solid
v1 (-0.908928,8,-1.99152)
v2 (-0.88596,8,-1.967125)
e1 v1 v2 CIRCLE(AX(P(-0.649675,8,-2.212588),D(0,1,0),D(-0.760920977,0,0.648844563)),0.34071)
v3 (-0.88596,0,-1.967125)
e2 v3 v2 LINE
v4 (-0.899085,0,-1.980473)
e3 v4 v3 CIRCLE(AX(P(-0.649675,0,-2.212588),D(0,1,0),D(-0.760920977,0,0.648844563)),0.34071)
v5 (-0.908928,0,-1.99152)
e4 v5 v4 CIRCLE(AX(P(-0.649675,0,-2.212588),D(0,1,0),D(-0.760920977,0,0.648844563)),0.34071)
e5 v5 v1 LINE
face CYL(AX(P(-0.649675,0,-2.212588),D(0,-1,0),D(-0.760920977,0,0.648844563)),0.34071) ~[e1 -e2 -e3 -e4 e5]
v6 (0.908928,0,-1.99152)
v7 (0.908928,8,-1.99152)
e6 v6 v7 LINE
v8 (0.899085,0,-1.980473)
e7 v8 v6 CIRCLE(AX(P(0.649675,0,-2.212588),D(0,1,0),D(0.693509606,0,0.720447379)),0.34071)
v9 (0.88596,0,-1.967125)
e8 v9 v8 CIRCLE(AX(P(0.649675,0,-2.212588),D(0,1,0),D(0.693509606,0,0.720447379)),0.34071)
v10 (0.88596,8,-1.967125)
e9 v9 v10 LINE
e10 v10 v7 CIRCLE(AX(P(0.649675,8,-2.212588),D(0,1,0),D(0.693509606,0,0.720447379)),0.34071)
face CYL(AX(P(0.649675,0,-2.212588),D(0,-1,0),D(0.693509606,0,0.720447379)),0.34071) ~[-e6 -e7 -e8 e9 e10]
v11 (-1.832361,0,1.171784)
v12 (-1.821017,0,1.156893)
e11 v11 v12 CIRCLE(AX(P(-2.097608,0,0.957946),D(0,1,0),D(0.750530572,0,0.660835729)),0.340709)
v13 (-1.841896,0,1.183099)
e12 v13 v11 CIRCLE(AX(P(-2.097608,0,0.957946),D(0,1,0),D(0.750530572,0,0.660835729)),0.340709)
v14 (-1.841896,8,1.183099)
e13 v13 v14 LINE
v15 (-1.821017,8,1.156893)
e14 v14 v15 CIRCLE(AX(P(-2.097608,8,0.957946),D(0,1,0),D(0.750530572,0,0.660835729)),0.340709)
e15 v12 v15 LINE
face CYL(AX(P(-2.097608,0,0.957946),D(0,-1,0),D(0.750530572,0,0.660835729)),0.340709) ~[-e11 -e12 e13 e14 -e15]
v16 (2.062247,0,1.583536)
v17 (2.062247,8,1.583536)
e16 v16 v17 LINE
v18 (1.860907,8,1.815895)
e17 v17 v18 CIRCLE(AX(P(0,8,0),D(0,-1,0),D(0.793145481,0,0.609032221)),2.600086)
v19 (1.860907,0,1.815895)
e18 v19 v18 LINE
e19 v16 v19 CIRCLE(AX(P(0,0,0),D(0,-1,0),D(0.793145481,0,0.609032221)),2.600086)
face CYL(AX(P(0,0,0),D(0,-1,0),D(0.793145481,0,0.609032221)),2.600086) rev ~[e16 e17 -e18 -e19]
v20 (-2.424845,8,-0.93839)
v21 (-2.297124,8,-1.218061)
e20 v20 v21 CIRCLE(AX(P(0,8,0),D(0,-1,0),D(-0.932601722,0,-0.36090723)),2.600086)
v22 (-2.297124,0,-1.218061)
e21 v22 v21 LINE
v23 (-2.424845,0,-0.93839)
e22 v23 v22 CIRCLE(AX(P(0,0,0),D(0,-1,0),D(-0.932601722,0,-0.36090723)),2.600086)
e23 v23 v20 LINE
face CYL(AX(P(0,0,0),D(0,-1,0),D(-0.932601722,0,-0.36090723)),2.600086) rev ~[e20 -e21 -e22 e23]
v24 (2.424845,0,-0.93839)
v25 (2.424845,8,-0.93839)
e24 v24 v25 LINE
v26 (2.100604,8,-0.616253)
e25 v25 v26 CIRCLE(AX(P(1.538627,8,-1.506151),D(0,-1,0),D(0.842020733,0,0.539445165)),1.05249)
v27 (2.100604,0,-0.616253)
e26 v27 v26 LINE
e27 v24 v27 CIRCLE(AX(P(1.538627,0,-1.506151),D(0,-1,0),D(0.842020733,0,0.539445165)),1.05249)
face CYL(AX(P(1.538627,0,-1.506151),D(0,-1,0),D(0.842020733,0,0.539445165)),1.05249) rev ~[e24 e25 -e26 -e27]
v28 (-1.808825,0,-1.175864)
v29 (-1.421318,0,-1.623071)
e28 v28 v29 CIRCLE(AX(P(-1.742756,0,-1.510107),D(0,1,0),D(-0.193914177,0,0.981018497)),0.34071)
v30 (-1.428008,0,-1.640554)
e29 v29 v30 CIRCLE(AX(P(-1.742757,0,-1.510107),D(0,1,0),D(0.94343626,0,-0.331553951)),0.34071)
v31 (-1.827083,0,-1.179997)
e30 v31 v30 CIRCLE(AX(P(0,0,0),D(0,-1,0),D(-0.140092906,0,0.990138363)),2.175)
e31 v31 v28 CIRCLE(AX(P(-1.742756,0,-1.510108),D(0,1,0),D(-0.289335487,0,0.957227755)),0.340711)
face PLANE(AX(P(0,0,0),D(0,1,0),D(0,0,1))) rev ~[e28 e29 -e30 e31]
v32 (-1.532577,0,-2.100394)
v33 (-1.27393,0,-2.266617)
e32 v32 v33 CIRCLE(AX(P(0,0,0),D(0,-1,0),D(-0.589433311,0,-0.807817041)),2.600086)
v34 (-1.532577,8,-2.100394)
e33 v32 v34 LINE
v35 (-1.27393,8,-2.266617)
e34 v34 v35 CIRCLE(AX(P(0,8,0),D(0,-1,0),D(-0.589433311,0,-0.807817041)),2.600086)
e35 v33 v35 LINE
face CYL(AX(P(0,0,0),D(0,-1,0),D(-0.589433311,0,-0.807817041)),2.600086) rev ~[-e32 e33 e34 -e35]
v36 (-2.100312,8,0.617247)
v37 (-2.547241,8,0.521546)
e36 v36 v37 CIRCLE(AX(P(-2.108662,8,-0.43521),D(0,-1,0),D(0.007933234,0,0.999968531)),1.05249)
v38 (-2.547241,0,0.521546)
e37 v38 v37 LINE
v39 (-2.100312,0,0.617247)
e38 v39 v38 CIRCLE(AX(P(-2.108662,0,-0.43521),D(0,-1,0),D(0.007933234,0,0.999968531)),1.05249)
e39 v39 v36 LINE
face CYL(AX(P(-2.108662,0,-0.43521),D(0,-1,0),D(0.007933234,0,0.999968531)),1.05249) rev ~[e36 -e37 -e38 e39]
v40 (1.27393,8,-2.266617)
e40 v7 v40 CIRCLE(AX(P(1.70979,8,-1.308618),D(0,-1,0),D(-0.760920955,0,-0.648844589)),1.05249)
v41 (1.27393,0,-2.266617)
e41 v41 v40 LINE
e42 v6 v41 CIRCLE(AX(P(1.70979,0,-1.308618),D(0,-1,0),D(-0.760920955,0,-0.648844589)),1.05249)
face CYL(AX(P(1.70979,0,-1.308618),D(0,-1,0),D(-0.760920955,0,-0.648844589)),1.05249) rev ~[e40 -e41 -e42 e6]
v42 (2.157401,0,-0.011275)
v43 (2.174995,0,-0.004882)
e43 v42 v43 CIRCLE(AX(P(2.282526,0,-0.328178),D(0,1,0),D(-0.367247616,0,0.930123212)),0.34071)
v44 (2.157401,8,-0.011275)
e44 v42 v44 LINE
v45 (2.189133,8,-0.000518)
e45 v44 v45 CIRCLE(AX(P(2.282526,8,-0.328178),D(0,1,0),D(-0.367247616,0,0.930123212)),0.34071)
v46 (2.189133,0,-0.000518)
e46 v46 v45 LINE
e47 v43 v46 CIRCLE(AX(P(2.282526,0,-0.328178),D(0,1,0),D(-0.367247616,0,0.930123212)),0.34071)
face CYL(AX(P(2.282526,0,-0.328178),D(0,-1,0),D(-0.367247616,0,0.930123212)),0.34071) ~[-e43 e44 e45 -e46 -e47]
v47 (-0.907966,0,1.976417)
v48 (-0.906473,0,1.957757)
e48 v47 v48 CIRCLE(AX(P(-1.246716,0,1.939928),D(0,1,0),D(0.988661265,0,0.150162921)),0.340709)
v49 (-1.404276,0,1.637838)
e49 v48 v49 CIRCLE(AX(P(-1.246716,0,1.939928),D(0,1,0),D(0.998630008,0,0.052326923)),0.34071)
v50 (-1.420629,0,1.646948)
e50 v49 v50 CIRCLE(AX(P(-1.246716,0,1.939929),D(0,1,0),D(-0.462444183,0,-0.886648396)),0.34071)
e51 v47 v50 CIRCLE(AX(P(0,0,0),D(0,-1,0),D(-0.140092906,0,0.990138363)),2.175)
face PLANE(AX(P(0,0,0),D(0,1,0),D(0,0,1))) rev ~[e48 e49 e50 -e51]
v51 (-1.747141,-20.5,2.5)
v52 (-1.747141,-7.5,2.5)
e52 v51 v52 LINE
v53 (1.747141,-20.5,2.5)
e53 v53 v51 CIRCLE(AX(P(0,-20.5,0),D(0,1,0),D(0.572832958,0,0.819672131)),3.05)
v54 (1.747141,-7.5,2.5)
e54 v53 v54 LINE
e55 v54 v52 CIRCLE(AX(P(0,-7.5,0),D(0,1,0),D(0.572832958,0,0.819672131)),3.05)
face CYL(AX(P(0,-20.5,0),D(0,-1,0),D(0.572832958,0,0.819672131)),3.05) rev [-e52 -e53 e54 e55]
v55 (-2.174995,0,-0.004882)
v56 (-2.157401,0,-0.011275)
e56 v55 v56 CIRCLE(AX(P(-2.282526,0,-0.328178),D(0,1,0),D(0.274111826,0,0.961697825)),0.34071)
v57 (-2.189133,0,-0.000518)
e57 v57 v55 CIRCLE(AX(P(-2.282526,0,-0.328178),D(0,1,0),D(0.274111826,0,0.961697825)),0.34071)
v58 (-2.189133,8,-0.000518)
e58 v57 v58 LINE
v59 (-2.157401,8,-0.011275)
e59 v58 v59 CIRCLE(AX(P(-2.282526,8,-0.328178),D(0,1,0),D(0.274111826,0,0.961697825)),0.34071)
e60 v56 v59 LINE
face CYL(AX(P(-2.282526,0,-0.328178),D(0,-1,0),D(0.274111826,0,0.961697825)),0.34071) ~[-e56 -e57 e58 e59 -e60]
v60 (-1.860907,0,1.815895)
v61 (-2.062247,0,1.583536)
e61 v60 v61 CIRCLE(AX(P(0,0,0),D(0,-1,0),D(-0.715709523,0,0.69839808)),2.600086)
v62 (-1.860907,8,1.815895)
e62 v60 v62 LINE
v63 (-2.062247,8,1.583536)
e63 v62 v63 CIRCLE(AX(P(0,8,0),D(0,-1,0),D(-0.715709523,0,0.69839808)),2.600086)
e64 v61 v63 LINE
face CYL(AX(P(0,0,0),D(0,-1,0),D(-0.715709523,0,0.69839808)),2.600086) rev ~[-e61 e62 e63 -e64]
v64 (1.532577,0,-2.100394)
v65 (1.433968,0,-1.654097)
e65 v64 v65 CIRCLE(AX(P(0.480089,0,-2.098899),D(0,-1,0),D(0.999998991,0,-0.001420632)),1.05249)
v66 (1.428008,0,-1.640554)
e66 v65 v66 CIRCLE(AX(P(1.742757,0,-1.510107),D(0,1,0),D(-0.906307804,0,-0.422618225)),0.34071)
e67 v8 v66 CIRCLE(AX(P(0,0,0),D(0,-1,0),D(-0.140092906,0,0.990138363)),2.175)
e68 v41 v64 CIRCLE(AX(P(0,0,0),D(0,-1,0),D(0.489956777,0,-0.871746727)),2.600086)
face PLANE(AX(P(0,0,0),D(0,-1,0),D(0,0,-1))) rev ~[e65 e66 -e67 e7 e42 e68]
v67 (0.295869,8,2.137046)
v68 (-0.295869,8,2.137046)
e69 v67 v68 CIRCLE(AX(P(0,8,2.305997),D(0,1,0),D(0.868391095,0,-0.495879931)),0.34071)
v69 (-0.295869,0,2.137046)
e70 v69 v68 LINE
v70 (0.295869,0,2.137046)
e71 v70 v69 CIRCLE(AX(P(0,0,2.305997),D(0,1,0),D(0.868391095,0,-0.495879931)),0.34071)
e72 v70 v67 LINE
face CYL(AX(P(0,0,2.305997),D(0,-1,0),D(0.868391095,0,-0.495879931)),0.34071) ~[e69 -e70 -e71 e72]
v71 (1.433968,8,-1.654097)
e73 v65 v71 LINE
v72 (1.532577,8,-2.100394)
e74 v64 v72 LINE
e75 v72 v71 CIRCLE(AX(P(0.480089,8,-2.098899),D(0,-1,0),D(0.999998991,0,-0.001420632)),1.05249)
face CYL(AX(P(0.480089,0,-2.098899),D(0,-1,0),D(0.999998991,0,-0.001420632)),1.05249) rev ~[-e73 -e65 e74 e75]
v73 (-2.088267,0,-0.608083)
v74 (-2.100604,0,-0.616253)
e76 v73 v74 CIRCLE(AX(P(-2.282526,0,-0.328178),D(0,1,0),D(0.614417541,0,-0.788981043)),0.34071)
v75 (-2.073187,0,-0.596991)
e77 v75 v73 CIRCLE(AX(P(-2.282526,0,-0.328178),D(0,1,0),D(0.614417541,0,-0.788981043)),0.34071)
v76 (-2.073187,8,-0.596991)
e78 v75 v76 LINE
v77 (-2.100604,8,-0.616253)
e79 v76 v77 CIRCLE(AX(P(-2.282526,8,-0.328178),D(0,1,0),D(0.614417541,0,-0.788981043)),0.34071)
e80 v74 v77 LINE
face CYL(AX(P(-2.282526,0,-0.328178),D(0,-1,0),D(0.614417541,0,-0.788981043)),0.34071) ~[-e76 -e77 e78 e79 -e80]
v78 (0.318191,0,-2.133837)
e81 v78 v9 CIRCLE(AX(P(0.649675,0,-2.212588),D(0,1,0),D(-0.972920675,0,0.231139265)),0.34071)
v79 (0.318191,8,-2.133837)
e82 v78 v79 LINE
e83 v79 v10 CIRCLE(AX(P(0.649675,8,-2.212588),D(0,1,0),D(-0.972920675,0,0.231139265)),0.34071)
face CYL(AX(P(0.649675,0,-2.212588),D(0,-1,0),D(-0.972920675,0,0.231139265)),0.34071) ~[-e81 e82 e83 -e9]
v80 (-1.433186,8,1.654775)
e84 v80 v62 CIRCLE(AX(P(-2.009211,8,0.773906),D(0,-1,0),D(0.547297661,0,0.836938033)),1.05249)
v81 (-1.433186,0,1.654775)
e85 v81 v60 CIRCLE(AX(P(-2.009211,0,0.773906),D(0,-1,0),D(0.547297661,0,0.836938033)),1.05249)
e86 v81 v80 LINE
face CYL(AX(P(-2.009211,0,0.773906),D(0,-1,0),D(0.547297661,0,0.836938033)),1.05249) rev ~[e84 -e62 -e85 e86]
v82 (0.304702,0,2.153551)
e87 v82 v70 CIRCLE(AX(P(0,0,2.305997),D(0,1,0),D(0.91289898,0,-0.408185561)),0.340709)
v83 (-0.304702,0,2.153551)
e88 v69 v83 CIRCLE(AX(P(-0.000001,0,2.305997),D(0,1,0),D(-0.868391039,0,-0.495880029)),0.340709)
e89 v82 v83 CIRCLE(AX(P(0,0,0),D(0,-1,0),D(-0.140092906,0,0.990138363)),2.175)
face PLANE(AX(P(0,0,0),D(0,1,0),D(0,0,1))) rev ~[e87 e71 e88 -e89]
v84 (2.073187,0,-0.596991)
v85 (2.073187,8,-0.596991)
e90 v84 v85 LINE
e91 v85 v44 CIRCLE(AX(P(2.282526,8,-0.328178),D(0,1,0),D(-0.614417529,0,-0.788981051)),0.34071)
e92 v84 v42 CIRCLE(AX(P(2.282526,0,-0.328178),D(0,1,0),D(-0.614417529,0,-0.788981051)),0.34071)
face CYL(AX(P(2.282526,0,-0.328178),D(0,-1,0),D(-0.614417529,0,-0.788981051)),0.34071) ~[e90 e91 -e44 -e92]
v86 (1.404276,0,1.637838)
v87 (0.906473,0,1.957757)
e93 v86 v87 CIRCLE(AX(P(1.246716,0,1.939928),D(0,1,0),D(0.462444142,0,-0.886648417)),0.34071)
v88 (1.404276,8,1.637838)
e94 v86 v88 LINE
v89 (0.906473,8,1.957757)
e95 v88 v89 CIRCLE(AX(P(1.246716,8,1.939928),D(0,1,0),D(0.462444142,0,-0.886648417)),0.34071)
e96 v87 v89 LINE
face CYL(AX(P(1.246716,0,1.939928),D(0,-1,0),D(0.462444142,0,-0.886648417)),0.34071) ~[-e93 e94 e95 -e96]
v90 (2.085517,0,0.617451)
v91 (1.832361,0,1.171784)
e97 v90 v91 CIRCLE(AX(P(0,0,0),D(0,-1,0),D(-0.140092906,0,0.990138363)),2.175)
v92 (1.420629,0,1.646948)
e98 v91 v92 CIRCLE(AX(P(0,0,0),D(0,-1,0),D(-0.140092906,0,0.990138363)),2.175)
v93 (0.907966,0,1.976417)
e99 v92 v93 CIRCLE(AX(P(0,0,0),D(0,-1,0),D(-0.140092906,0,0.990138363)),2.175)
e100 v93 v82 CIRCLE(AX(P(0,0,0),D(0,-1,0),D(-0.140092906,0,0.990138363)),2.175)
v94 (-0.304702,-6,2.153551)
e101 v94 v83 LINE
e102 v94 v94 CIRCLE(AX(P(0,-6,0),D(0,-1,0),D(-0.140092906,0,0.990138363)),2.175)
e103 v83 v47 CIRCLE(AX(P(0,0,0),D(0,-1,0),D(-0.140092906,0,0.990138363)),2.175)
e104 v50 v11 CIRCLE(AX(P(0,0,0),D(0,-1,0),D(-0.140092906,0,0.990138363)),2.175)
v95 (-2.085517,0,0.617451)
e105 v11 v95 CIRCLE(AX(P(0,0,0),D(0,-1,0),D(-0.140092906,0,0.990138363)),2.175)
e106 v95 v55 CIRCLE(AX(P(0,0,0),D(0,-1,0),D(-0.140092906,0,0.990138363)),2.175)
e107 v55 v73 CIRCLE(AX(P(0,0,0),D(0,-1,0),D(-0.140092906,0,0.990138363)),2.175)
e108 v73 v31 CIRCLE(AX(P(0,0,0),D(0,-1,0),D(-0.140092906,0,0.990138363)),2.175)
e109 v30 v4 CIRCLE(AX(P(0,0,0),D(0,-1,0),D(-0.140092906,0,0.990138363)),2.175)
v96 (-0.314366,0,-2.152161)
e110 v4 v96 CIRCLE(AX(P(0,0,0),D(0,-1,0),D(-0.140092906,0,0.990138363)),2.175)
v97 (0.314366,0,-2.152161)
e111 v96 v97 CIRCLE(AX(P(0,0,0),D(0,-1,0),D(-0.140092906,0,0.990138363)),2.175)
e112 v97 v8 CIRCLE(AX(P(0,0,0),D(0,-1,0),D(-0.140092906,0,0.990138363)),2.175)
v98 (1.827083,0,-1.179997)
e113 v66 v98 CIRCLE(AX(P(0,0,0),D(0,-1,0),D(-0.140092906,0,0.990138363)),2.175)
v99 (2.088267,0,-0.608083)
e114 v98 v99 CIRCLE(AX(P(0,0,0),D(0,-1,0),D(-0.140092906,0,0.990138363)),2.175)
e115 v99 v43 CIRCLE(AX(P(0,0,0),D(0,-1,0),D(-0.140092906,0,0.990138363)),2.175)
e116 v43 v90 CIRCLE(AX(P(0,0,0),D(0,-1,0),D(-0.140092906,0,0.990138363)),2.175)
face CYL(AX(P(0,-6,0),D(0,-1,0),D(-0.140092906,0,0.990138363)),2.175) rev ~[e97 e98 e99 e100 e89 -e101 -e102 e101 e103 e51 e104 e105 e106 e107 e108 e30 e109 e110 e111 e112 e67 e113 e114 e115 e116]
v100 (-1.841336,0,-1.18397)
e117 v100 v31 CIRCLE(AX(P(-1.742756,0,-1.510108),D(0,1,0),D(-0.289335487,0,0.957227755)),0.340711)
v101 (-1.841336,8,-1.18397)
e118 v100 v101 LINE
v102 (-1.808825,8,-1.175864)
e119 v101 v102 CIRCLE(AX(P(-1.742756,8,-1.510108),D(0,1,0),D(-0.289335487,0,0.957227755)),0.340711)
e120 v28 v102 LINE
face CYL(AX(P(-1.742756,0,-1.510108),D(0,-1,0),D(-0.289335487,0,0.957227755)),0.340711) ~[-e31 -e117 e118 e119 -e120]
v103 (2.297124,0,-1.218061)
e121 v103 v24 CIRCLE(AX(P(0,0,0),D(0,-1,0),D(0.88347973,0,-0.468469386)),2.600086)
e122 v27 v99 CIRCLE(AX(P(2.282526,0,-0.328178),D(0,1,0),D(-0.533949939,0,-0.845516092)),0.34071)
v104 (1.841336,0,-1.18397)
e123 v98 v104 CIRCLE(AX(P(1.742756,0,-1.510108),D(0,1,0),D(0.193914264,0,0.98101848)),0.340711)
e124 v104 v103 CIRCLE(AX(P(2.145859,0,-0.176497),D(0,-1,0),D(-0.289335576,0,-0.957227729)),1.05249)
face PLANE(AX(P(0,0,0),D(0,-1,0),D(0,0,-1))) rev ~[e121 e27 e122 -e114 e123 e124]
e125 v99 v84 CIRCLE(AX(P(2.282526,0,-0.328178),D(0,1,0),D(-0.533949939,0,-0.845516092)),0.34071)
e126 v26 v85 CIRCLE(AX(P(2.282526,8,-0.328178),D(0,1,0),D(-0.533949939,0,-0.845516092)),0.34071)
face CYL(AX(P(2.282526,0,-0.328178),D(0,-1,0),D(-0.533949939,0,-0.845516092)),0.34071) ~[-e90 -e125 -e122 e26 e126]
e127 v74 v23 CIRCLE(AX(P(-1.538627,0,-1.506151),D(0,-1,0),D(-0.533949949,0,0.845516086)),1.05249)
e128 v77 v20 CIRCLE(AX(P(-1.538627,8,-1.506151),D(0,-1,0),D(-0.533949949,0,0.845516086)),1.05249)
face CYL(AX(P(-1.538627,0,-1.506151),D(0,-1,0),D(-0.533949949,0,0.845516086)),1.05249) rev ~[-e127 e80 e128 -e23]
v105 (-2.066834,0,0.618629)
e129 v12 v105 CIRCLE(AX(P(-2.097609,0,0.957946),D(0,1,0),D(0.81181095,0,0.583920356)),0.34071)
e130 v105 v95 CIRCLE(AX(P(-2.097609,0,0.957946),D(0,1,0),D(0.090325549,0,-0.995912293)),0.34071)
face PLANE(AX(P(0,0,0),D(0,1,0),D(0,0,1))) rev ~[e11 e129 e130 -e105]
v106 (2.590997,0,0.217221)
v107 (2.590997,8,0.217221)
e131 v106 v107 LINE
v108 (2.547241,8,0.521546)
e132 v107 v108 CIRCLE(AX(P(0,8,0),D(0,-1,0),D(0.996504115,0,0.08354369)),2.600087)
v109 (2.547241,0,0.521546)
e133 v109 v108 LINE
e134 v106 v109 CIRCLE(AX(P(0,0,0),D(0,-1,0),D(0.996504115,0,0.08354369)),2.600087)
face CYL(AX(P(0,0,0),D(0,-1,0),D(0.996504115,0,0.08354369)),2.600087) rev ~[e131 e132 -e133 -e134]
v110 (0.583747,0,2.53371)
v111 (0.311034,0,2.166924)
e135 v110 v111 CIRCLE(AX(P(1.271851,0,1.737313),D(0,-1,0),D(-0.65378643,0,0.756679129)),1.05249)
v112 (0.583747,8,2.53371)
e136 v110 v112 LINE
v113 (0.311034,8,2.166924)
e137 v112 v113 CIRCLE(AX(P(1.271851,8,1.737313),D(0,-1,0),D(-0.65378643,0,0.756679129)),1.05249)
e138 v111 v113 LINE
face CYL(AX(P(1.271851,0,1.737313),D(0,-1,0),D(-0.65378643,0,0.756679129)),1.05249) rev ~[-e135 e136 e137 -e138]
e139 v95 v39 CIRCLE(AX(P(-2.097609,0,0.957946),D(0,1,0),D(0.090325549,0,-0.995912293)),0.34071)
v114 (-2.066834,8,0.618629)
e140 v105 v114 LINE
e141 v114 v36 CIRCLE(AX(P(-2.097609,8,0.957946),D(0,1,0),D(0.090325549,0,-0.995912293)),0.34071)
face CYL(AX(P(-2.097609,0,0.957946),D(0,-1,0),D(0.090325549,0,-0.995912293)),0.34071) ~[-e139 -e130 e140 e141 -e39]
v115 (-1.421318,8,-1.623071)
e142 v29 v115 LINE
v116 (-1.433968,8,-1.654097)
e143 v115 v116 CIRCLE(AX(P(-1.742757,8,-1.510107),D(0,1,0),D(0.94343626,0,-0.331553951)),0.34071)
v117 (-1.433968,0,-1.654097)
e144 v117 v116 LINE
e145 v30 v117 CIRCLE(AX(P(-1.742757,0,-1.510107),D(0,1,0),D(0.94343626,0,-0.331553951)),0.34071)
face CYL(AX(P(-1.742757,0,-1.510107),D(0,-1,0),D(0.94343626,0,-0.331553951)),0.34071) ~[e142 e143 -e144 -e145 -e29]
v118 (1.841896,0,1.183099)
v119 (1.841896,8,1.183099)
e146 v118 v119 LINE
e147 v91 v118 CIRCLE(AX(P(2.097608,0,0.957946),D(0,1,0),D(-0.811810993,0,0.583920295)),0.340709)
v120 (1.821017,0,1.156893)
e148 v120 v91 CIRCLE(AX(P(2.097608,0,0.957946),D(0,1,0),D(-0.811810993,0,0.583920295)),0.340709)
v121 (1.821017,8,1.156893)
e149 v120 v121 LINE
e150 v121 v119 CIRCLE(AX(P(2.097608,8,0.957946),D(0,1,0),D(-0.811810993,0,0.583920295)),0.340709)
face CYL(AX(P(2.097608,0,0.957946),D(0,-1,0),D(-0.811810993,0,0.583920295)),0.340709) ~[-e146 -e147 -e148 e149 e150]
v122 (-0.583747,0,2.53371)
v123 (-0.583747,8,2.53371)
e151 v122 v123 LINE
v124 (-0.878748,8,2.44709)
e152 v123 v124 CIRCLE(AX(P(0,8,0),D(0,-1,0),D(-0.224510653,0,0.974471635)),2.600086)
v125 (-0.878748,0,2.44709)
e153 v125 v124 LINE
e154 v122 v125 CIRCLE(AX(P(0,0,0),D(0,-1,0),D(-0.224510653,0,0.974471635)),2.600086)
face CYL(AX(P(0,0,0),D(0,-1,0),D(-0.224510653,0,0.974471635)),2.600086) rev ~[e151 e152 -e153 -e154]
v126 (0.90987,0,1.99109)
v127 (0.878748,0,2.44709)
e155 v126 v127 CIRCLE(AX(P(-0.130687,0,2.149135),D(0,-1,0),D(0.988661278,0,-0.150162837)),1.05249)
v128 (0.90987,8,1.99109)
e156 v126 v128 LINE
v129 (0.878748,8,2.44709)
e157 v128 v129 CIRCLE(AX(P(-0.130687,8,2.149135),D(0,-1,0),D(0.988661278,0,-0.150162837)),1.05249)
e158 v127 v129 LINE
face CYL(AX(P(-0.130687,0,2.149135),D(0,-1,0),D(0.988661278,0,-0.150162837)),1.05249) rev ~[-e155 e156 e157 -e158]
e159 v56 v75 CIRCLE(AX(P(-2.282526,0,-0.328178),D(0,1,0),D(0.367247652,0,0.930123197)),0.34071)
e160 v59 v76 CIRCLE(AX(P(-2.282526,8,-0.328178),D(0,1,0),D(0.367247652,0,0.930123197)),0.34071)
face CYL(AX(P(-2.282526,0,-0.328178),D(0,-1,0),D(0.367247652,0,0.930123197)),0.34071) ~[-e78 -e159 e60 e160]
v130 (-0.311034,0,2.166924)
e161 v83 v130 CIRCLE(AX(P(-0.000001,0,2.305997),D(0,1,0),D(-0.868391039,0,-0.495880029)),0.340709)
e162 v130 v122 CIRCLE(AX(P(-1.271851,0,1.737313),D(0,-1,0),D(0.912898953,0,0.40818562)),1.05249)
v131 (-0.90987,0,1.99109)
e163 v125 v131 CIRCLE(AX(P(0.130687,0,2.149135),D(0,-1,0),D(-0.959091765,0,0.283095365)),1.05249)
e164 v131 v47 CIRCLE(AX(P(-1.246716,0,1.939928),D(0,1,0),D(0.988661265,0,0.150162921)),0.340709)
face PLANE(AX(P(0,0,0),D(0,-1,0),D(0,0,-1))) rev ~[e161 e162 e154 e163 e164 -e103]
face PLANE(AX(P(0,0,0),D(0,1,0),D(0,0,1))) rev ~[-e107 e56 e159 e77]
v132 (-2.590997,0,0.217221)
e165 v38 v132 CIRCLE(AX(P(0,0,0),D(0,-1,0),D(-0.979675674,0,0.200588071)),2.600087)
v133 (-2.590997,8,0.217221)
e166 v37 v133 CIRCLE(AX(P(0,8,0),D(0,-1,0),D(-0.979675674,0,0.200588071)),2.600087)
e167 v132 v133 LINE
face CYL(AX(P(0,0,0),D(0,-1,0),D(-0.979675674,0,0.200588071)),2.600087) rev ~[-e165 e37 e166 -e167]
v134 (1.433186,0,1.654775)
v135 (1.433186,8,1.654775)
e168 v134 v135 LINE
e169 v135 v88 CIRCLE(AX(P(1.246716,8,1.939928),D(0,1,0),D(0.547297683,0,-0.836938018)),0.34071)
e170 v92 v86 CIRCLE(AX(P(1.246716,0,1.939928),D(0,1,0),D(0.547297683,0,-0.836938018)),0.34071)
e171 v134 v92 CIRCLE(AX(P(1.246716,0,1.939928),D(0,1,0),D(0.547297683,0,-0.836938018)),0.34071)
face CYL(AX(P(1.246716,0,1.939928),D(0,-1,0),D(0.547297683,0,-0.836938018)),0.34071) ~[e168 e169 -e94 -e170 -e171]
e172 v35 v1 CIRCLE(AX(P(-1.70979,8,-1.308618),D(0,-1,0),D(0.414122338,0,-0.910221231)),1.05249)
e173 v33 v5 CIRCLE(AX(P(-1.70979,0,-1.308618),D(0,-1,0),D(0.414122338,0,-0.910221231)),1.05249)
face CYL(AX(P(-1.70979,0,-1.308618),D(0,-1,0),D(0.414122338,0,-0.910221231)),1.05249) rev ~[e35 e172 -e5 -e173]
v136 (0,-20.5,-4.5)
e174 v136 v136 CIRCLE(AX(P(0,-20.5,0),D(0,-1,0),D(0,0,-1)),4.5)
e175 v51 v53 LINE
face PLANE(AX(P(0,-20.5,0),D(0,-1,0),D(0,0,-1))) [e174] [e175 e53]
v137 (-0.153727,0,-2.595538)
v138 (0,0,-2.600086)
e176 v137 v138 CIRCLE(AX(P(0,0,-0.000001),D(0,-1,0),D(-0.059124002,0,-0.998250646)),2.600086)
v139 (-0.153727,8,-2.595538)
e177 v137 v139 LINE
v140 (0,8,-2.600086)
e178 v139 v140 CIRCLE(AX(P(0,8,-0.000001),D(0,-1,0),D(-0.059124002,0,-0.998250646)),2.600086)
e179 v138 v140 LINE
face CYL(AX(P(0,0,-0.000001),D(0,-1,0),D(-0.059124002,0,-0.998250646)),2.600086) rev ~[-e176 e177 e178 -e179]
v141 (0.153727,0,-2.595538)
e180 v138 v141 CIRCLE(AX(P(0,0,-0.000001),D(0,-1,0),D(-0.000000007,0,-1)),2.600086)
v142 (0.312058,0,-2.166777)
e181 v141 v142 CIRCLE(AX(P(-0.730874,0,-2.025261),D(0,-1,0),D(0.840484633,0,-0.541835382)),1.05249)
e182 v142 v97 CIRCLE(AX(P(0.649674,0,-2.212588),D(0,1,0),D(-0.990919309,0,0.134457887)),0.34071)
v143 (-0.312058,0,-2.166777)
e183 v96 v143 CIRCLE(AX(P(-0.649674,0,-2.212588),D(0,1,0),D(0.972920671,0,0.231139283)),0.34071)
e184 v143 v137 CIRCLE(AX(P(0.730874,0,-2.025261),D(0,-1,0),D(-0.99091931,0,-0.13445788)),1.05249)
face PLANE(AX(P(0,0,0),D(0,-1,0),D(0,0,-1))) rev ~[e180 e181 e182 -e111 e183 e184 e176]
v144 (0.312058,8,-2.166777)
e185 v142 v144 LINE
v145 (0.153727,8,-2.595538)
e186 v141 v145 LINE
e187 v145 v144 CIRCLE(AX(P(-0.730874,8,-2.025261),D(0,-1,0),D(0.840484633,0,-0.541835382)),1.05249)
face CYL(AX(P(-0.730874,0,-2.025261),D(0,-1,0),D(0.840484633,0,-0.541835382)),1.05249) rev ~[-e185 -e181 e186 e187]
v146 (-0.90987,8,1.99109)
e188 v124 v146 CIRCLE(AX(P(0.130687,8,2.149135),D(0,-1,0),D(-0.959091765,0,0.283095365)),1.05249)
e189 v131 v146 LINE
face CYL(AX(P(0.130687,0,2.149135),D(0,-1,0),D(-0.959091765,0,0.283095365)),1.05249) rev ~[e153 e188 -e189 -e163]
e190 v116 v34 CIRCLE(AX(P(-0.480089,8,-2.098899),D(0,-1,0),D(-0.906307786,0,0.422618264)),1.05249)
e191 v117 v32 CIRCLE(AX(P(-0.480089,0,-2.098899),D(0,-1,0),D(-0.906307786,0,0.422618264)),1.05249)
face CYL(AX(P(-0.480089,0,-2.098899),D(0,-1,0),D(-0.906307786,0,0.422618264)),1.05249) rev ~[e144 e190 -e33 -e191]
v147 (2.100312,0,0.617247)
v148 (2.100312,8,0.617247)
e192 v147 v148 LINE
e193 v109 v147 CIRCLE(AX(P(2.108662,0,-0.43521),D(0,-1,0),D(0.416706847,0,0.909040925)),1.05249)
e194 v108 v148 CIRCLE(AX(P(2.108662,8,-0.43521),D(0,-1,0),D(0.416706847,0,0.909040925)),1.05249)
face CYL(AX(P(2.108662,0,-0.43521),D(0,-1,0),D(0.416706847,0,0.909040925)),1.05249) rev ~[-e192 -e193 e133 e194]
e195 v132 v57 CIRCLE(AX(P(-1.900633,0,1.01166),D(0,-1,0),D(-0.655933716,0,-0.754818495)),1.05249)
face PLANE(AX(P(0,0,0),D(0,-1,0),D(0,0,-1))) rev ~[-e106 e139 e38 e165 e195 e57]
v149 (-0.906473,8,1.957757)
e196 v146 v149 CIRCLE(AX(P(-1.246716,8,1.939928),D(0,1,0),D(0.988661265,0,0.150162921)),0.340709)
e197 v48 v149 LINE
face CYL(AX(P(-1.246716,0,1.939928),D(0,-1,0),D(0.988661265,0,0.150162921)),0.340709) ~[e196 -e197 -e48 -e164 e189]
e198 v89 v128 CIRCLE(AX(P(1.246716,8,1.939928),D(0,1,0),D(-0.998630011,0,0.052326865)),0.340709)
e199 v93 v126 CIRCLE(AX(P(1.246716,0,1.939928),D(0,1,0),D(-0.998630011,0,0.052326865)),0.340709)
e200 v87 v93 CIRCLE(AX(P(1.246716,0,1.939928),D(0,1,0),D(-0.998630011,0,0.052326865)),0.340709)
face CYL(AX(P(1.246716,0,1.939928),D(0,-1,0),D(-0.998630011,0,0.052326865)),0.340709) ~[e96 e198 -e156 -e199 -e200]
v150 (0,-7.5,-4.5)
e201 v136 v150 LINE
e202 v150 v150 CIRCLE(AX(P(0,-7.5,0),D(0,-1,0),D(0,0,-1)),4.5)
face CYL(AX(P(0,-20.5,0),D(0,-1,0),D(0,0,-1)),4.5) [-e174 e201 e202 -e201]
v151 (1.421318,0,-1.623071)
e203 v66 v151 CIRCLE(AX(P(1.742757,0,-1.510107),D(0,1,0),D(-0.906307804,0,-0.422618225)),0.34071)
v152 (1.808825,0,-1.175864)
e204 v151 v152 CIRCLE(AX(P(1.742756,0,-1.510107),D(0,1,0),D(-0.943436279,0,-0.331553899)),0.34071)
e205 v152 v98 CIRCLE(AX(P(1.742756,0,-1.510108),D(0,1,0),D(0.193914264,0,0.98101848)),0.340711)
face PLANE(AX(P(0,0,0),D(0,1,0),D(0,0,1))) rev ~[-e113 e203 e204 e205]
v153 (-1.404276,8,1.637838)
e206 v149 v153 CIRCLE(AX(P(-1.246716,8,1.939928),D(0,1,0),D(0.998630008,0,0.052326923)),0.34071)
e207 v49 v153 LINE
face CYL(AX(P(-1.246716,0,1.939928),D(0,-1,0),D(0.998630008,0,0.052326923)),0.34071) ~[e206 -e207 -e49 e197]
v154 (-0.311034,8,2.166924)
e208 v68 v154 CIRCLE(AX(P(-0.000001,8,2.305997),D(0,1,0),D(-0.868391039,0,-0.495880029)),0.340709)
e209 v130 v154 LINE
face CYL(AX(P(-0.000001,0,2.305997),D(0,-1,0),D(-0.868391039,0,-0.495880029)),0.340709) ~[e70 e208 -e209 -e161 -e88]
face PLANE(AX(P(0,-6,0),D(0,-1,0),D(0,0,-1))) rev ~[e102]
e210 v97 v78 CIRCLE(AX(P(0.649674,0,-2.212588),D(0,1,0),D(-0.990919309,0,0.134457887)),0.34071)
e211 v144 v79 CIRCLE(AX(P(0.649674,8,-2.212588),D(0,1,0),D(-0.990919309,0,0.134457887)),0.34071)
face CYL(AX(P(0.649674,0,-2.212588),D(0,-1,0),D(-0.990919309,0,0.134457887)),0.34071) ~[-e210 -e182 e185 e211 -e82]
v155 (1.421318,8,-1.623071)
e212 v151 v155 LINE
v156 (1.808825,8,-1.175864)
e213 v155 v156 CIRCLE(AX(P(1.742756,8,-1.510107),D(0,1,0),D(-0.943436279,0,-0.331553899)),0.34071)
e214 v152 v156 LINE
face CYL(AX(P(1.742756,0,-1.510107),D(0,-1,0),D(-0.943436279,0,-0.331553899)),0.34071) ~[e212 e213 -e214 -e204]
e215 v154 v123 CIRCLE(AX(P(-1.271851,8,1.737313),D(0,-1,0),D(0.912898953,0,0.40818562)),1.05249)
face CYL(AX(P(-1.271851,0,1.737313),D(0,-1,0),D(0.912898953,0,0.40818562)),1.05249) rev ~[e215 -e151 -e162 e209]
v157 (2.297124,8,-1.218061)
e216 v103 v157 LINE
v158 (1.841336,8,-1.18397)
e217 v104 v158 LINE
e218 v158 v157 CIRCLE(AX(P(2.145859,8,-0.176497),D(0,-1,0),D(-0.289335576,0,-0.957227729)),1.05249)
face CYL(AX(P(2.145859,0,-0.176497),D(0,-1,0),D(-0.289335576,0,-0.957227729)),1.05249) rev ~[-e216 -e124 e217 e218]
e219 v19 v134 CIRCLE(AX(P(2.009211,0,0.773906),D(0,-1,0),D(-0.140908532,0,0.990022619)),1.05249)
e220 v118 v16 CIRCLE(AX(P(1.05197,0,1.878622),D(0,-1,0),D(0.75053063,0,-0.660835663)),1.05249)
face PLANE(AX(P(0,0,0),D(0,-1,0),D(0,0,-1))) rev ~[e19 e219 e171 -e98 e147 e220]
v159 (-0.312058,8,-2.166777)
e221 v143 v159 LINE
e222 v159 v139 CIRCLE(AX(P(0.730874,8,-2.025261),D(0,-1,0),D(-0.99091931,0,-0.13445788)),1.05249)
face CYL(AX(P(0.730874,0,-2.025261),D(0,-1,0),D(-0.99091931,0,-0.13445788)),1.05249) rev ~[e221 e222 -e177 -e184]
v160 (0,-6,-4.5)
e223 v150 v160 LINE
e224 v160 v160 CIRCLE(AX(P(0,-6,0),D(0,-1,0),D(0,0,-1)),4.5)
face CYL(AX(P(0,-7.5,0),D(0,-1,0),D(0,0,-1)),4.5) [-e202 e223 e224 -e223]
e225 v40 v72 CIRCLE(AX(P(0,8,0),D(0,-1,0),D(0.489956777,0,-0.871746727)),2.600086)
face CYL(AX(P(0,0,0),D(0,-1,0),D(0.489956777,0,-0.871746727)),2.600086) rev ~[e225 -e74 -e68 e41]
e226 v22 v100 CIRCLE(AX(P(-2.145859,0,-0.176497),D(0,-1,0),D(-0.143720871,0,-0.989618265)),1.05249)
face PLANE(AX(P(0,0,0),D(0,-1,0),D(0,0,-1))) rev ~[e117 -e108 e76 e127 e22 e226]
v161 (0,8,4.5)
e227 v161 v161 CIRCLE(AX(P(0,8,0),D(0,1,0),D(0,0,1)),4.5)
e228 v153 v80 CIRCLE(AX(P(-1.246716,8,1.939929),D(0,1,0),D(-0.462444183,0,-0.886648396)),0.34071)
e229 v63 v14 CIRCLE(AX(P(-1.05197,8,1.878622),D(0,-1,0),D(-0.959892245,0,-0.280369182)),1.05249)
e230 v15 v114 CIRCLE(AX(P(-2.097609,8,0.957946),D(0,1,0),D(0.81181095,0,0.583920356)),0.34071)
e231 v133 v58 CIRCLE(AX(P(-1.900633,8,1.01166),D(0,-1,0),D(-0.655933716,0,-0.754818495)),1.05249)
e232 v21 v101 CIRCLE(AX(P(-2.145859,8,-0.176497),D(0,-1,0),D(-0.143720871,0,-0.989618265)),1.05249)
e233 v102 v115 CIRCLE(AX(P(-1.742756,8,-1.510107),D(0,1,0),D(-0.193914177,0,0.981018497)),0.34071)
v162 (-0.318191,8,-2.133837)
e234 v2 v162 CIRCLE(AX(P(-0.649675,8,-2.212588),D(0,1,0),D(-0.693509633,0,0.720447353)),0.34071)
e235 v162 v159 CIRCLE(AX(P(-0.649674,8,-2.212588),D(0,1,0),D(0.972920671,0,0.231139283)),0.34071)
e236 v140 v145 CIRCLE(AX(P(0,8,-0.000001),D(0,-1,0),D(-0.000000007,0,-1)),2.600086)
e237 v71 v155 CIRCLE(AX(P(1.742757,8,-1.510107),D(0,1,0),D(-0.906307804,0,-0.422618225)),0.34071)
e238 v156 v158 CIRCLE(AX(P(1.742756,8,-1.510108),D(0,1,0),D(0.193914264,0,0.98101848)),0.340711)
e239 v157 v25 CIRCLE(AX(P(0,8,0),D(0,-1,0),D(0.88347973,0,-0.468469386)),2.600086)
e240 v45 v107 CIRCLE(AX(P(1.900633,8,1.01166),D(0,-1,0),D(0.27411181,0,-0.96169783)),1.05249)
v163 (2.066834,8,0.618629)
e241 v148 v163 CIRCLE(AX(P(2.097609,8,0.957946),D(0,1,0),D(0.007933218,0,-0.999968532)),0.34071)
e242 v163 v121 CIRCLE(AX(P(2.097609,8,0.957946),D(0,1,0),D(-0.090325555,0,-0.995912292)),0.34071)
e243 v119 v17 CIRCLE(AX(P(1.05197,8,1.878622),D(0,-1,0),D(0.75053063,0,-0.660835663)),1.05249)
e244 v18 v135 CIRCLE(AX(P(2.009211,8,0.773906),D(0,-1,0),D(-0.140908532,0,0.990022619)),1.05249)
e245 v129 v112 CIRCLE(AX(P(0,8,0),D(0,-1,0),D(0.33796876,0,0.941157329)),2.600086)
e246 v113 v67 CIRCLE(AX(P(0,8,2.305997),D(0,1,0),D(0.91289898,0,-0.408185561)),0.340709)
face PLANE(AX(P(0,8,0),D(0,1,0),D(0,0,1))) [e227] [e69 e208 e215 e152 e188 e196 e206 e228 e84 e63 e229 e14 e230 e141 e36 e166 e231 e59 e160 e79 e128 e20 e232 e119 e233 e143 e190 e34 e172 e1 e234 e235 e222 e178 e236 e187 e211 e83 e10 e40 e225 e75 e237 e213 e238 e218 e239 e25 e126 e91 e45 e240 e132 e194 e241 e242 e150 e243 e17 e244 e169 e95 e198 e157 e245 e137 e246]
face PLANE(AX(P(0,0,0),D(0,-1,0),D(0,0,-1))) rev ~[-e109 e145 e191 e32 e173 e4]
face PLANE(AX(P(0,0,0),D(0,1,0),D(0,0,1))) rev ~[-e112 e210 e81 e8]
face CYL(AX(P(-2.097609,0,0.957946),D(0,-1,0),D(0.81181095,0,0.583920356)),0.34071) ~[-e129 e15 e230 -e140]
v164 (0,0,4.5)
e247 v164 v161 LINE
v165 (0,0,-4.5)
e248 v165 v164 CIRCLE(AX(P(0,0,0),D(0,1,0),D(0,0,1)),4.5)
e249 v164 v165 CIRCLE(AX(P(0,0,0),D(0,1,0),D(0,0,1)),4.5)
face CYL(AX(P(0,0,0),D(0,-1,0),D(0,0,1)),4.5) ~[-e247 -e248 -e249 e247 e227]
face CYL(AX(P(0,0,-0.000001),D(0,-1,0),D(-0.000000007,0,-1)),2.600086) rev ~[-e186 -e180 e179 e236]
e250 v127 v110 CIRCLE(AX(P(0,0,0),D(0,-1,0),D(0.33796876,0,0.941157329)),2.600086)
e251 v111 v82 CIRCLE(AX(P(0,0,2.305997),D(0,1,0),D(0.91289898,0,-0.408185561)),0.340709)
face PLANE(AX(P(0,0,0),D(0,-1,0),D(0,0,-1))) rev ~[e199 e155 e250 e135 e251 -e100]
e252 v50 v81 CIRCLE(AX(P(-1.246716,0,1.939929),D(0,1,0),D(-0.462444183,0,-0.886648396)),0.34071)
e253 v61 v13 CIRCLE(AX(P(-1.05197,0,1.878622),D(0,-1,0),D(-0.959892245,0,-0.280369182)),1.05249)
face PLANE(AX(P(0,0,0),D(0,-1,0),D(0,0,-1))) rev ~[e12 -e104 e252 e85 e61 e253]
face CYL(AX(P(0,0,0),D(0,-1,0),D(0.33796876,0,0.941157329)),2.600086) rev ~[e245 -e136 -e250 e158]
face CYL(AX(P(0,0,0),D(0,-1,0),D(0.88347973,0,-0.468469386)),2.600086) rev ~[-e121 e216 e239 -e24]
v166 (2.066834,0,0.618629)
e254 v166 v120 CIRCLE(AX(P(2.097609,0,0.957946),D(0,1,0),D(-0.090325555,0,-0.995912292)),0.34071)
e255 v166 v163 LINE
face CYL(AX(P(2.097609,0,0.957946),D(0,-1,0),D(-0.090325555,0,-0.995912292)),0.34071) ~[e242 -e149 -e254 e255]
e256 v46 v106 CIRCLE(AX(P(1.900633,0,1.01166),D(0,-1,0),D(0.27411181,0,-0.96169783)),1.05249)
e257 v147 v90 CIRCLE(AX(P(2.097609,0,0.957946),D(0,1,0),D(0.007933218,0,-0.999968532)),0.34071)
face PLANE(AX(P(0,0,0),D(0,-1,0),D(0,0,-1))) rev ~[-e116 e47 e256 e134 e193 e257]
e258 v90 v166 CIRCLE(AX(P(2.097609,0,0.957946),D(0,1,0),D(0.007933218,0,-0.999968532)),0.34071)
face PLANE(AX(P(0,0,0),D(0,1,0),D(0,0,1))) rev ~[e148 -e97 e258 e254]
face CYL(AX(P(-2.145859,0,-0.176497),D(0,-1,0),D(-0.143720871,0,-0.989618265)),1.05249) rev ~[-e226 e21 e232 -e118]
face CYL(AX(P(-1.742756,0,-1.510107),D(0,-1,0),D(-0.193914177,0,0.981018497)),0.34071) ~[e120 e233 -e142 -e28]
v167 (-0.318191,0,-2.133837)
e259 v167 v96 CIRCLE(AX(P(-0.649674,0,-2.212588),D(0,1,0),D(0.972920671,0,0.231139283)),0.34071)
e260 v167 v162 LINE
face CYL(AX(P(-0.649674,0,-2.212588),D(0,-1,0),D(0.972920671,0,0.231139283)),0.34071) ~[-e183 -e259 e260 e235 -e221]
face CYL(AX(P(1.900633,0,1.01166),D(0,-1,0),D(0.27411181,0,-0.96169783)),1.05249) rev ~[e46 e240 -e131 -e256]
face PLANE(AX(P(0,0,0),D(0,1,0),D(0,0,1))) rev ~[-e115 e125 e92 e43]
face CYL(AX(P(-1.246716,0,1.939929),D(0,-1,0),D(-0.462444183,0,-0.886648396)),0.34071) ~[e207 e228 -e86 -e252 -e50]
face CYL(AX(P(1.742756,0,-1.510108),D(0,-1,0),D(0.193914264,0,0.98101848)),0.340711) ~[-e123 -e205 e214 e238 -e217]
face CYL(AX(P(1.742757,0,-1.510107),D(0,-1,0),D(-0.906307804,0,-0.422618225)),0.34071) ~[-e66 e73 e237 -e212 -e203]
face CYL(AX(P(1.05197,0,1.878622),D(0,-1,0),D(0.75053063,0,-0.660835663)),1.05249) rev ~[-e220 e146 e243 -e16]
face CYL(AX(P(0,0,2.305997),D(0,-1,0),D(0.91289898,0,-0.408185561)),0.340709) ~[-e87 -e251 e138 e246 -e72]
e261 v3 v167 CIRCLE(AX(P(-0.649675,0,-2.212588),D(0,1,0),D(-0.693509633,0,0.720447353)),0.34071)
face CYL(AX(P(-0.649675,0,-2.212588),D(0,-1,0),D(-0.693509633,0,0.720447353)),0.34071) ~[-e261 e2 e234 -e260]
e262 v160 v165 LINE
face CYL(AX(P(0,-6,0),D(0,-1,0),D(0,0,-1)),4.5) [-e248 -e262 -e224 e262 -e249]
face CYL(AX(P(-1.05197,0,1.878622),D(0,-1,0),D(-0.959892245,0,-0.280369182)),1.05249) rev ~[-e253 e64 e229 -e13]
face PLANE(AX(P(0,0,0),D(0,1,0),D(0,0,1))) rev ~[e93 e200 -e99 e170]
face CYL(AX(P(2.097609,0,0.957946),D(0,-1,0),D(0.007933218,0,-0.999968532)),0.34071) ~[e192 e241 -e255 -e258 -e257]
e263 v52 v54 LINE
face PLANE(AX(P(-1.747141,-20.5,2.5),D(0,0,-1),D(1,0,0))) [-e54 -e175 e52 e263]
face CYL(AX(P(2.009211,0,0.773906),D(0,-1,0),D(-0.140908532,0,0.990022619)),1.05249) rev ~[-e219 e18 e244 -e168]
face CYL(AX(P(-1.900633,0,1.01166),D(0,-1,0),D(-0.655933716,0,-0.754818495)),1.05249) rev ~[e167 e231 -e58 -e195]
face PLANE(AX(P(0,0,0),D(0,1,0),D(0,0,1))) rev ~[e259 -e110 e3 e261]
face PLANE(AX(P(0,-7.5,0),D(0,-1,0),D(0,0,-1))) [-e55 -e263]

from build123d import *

# Parameters (mm, degrees)
SKETCH1_R           = 4.5
BOSS_EXTRUDE1_DEPTH = 8
BOSS_EXTRUDE2_START = 6
SKETCH2_R           = 4.5
SKETCH2_R_2         = 2.175
BOSS_EXTRUDE2_DEPTH = 6
BOSS_EXTRUDE3_START = 1.5
SKETCH3_R           = 4.5
BOSS_EXTRUDE3_DEPTH = 1.5
BOSS_EXTRUDE4_START = 13
SKETCH4_R           = 4.5
BOSS_EXTRUDE4_DEPTH = 13


with BuildPart() as part:
    # Sketch1 → Boss-Extrude1 (new body)
    with BuildSketch(Plane(origin=(0, 0, 0), x_dir=(1, 0, 0), z_dir=(0, 1, 0))):
        with Locations(Location((0, 0, 0), (0, 0, 270))):
            Circle(SKETCH1_R)
        with BuildLine():
            ThreePointArc((-0.909869568, -1.991090343), (-0.907761332, -1.974465286), (-0.906473122, -1.957756676))
            ThreePointArc((-0.906473122, -1.957756676), (-1.062514579, -1.653304957), (-1.404275568, -1.63783847))
            ThreePointArc((-1.404275568, -1.63783847), (-1.418939112, -1.645951275), (-1.433186003, -1.654775291))
            ThreePointArc((-1.433186003, -1.654775291), (-1.638194551, -1.758833668), (-1.86090652, -1.815895294))
            ThreePointArc((-1.86090652, -1.815895294), (-1.965014118, -1.702694426), (-2.062246708, -1.58353633))
            ThreePointArc((-2.062246708, -1.58353633), (-1.97407067, -1.371211963), (-1.841895699, -1.183099158))
            ThreePointArc((-1.841895699, -1.183099158), (-1.831133954, -1.170253069), (-1.821016886, -1.15689335))
            ThreePointArc((-1.821016886, -1.15689335), (-1.787688286, -0.816409885), (-2.066834111, -0.618628708))
            ThreePointArc((-2.066834111, -0.618628708), (-2.083555984, -0.617525923), (-2.100311854, -0.617246707))
            ThreePointArc((-2.100311854, -0.617246707), (-2.329034225, -0.593950196), (-2.5472413, -0.521546309))
            ThreePointArc((-2.5472413, -0.521546309), (-2.573621175, -0.370030862), (-2.590996705, -0.217220785))
            ThreePointArc((-2.590996705, -0.217220785), (-2.402027082, -0.086273727), (-2.18913296, 0.00051765))
            ThreePointArc((-2.18913296, 0.00051765), (-2.173134484, 0.00550623), (-2.157400655, 0.01127544))
            ThreePointArc((-2.157400655, 0.01127544), (-1.945283594, 0.279689557), (-2.073187428, 0.596991297))
            ThreePointArc((-2.073187428, 0.596991297), (-2.086658552, 0.606959546), (-2.100603532, 0.616253345))
            ThreePointArc((-2.100603532, 0.616253345), (-2.280421989, 0.759508267), (-2.424844966, 0.938389944))
            ThreePointArc((-2.424844966, 0.938389944), (-2.365121694, 1.080114886), (-2.297123554, 1.218060823))
            ThreePointArc((-2.297123554, 1.218060823), (-2.067356867, 1.226055807), (-1.841335974, 1.183970107))
            ThreePointArc((-1.841335974, 1.183970107), (-1.825180169, 1.179517339), (-1.80882496, 1.175864357))
            ThreePointArc((-1.80882496, 1.175864357), (-1.485265106, 1.28698954), (-1.421318385, 1.623070784))
            ThreePointArc((-1.421318385, 1.623070784), (-1.427261774, 1.638739648), (-1.43396843, 1.654097314))
            ThreePointArc((-1.43396843, 1.654097314), (-1.507791885, 1.871828221), (-1.532577488, 2.10039402))
            ThreePointArc((-1.532577488, 2.10039402), (-1.405712785, 2.18733179), (-1.273929906, 2.266616727))
            ThreePointArc((-1.273929906, 2.266616727), (-1.076315454, 2.149121286), (-0.908927826, 1.991520422))
            ThreePointArc((-0.908927826, 1.991520422), (-0.897744047, 1.979040027), (-0.88596012, 1.96712465))
            ThreePointArc((-0.88596012, 1.96712465), (-0.55368544, 1.885679438), (-0.318190798, 2.133836765))
            ThreePointArc((-0.318190798, 2.133836765), (-0.314719467, 2.15023149), (-0.312058484, 2.166777073))
            ThreePointArc((-0.312058484, 2.166777073), (-0.25644851, 2.389855941), (-0.153727486, 2.595537835))
            ThreePointArc((-0.153727486, 2.595537835), (-0.076897381, 2.598948939), (0, 2.600086305))
            ThreePointArc((0, 2.600086305), (0.076897381, 2.598948939), (0.153727486, 2.595537835))
            ThreePointArc((0.153727486, 2.595537835), (0.25644851, 2.389855941), (0.312058484, 2.166777073))
            ThreePointArc((0.312058484, 2.166777073), (0.314719467, 2.15023149), (0.318190798, 2.133836765))
            ThreePointArc((0.318190798, 2.133836765), (0.55368544, 1.885679438), (0.88596012, 1.96712465))
            ThreePointArc((0.88596012, 1.96712465), (0.897744047, 1.979040027), (0.908927826, 1.991520422))
            ThreePointArc((0.908927826, 1.991520422), (1.076315454, 2.149121286), (1.273929906, 2.266616727))
            ThreePointArc((1.273929906, 2.266616727), (1.405712785, 2.18733179), (1.532577488, 2.10039402))
            ThreePointArc((1.532577488, 2.10039402), (1.507791885, 1.871828221), (1.43396843, 1.654097314))
            ThreePointArc((1.43396843, 1.654097314), (1.427261774, 1.638739648), (1.421318385, 1.623070784))
            ThreePointArc((1.421318385, 1.623070784), (1.485265106, 1.28698954), (1.80882496, 1.175864357))
            ThreePointArc((1.80882496, 1.175864357), (1.825180169, 1.179517339), (1.841335974, 1.183970107))
            ThreePointArc((1.841335974, 1.183970107), (2.067356867, 1.226055807), (2.297123554, 1.218060823))
            ThreePointArc((2.297123554, 1.218060823), (2.365121694, 1.080114886), (2.424844966, 0.938389944))
            ThreePointArc((2.424844966, 0.938389944), (2.280421989, 0.759508267), (2.100603532, 0.616253345))
            ThreePointArc((2.100603532, 0.616253345), (2.086658552, 0.606959546), (2.073187428, 0.596991297))
            ThreePointArc((2.073187428, 0.596991297), (1.945283594, 0.279689557), (2.157400655, 0.01127544))
            ThreePointArc((2.157400655, 0.01127544), (2.173134484, 0.00550623), (2.18913296, 0.00051765))
            ThreePointArc((2.18913296, 0.00051765), (2.402027082, -0.086273727), (2.590996705, -0.217220785))
            ThreePointArc((2.590996705, -0.217220785), (2.573621175, -0.370030862), (2.5472413, -0.521546309))
            ThreePointArc((2.5472413, -0.521546309), (2.329034225, -0.593950196), (2.100311854, -0.617246707))
            ThreePointArc((2.100311854, -0.617246707), (2.083555984, -0.617525923), (2.066834111, -0.618628708))
            ThreePointArc((2.066834111, -0.618628708), (1.787688286, -0.816409885), (1.821016886, -1.15689335))
            ThreePointArc((1.821016886, -1.15689335), (1.831133954, -1.170253069), (1.841895699, -1.183099158))
            ThreePointArc((1.841895699, -1.183099158), (1.97407067, -1.371211963), (2.062246708, -1.58353633))
            ThreePointArc((2.062246708, -1.58353633), (1.965014118, -1.702694426), (1.86090652, -1.815895294))
            ThreePointArc((1.86090652, -1.815895294), (1.638194552, -1.758833667), (1.433186005, -1.65477529))
            ThreePointArc((1.433186005, -1.65477529), (1.418939115, -1.645951274), (1.40427557, -1.637838469))
            ThreePointArc((1.40427557, -1.637838469), (1.06251458, -1.653304956), (0.906473122, -1.957756676))
            ThreePointArc((0.906473122, -1.957756676), (0.907761332, -1.974465287), (0.909869568, -1.991090343))
            ThreePointArc((0.909869568, -1.991090343), (0.919360768, -2.220800089), (0.878747953, -2.447090278))
            ThreePointArc((0.878747953, -2.447090278), (0.732528963, -2.49476454), (0.583747068, -2.533710353))
            ThreePointArc((0.583747068, -2.533710353), (0.427239681, -2.365299878), (0.311033722, -2.166924412))
            ThreePointArc((0.311033722, -2.166924412), (0.303819099, -2.151798727), (0.295869453, -2.13704609))
            ThreePointArc((0.295869453, -2.13704609), (0, -1.965287386), (-0.295869453, -2.13704609))
            ThreePointArc((-0.295869453, -2.13704609), (-0.303819099, -2.151798726), (-0.311033722, -2.166924412))
            ThreePointArc((-0.311033722, -2.166924412), (-0.427239681, -2.365299878), (-0.583747068, -2.533710353))
            ThreePointArc((-0.583747068, -2.533710353), (-0.732528963, -2.49476454), (-0.878747953, -2.447090278))
            ThreePointArc((-0.878747953, -2.447090278), (-0.919360769, -2.220800089), (-0.909869568, -1.991090343))
        make_face(mode=Mode.SUBTRACT)
    extrude(amount=BOSS_EXTRUDE1_DEPTH)

    # Sketch2 → Boss-Extrude2 (add)
    with BuildSketch(Plane.XZ.offset(BOSS_EXTRUDE2_START)):
        with Locations(Location((0, 0, 0), (0, 0, 270))):
            Circle(SKETCH2_R)
        with Locations(Location((0, 0, 0), (0, 0, 98.053222352))):
            Circle(SKETCH2_R_2, mode=Mode.SUBTRACT)
    extrude(amount=-BOSS_EXTRUDE2_DEPTH)

    # Sketch3 → Boss-Extrude3 (add)
    with BuildSketch(Plane.XZ.offset(6).offset(BOSS_EXTRUDE3_START)):
        with Locations(Location((0, 0, 0), (0, 0, 270))):
            Circle(SKETCH3_R)
    extrude(amount=-BOSS_EXTRUDE3_DEPTH)

    # Sketch4 → Boss-Extrude4 (add)
    with BuildSketch(Plane.XZ.offset(7.5).offset(BOSS_EXTRUDE4_START)):
        with Locations(Location((0, 0, 0), (0, 0, 270))):
            Circle(SKETCH4_R)
        with BuildLine():
            Line((-1.747140521, 2.5), (1.747140521, 2.5))
            ThreePointArc((1.747140521, 2.5), (0, -3.05), (-1.747140521, 2.5))
        make_face(mode=Mode.SUBTRACT)
    extrude(amount=-BOSS_EXTRUDE4_DEPTH)


solid = part.part
